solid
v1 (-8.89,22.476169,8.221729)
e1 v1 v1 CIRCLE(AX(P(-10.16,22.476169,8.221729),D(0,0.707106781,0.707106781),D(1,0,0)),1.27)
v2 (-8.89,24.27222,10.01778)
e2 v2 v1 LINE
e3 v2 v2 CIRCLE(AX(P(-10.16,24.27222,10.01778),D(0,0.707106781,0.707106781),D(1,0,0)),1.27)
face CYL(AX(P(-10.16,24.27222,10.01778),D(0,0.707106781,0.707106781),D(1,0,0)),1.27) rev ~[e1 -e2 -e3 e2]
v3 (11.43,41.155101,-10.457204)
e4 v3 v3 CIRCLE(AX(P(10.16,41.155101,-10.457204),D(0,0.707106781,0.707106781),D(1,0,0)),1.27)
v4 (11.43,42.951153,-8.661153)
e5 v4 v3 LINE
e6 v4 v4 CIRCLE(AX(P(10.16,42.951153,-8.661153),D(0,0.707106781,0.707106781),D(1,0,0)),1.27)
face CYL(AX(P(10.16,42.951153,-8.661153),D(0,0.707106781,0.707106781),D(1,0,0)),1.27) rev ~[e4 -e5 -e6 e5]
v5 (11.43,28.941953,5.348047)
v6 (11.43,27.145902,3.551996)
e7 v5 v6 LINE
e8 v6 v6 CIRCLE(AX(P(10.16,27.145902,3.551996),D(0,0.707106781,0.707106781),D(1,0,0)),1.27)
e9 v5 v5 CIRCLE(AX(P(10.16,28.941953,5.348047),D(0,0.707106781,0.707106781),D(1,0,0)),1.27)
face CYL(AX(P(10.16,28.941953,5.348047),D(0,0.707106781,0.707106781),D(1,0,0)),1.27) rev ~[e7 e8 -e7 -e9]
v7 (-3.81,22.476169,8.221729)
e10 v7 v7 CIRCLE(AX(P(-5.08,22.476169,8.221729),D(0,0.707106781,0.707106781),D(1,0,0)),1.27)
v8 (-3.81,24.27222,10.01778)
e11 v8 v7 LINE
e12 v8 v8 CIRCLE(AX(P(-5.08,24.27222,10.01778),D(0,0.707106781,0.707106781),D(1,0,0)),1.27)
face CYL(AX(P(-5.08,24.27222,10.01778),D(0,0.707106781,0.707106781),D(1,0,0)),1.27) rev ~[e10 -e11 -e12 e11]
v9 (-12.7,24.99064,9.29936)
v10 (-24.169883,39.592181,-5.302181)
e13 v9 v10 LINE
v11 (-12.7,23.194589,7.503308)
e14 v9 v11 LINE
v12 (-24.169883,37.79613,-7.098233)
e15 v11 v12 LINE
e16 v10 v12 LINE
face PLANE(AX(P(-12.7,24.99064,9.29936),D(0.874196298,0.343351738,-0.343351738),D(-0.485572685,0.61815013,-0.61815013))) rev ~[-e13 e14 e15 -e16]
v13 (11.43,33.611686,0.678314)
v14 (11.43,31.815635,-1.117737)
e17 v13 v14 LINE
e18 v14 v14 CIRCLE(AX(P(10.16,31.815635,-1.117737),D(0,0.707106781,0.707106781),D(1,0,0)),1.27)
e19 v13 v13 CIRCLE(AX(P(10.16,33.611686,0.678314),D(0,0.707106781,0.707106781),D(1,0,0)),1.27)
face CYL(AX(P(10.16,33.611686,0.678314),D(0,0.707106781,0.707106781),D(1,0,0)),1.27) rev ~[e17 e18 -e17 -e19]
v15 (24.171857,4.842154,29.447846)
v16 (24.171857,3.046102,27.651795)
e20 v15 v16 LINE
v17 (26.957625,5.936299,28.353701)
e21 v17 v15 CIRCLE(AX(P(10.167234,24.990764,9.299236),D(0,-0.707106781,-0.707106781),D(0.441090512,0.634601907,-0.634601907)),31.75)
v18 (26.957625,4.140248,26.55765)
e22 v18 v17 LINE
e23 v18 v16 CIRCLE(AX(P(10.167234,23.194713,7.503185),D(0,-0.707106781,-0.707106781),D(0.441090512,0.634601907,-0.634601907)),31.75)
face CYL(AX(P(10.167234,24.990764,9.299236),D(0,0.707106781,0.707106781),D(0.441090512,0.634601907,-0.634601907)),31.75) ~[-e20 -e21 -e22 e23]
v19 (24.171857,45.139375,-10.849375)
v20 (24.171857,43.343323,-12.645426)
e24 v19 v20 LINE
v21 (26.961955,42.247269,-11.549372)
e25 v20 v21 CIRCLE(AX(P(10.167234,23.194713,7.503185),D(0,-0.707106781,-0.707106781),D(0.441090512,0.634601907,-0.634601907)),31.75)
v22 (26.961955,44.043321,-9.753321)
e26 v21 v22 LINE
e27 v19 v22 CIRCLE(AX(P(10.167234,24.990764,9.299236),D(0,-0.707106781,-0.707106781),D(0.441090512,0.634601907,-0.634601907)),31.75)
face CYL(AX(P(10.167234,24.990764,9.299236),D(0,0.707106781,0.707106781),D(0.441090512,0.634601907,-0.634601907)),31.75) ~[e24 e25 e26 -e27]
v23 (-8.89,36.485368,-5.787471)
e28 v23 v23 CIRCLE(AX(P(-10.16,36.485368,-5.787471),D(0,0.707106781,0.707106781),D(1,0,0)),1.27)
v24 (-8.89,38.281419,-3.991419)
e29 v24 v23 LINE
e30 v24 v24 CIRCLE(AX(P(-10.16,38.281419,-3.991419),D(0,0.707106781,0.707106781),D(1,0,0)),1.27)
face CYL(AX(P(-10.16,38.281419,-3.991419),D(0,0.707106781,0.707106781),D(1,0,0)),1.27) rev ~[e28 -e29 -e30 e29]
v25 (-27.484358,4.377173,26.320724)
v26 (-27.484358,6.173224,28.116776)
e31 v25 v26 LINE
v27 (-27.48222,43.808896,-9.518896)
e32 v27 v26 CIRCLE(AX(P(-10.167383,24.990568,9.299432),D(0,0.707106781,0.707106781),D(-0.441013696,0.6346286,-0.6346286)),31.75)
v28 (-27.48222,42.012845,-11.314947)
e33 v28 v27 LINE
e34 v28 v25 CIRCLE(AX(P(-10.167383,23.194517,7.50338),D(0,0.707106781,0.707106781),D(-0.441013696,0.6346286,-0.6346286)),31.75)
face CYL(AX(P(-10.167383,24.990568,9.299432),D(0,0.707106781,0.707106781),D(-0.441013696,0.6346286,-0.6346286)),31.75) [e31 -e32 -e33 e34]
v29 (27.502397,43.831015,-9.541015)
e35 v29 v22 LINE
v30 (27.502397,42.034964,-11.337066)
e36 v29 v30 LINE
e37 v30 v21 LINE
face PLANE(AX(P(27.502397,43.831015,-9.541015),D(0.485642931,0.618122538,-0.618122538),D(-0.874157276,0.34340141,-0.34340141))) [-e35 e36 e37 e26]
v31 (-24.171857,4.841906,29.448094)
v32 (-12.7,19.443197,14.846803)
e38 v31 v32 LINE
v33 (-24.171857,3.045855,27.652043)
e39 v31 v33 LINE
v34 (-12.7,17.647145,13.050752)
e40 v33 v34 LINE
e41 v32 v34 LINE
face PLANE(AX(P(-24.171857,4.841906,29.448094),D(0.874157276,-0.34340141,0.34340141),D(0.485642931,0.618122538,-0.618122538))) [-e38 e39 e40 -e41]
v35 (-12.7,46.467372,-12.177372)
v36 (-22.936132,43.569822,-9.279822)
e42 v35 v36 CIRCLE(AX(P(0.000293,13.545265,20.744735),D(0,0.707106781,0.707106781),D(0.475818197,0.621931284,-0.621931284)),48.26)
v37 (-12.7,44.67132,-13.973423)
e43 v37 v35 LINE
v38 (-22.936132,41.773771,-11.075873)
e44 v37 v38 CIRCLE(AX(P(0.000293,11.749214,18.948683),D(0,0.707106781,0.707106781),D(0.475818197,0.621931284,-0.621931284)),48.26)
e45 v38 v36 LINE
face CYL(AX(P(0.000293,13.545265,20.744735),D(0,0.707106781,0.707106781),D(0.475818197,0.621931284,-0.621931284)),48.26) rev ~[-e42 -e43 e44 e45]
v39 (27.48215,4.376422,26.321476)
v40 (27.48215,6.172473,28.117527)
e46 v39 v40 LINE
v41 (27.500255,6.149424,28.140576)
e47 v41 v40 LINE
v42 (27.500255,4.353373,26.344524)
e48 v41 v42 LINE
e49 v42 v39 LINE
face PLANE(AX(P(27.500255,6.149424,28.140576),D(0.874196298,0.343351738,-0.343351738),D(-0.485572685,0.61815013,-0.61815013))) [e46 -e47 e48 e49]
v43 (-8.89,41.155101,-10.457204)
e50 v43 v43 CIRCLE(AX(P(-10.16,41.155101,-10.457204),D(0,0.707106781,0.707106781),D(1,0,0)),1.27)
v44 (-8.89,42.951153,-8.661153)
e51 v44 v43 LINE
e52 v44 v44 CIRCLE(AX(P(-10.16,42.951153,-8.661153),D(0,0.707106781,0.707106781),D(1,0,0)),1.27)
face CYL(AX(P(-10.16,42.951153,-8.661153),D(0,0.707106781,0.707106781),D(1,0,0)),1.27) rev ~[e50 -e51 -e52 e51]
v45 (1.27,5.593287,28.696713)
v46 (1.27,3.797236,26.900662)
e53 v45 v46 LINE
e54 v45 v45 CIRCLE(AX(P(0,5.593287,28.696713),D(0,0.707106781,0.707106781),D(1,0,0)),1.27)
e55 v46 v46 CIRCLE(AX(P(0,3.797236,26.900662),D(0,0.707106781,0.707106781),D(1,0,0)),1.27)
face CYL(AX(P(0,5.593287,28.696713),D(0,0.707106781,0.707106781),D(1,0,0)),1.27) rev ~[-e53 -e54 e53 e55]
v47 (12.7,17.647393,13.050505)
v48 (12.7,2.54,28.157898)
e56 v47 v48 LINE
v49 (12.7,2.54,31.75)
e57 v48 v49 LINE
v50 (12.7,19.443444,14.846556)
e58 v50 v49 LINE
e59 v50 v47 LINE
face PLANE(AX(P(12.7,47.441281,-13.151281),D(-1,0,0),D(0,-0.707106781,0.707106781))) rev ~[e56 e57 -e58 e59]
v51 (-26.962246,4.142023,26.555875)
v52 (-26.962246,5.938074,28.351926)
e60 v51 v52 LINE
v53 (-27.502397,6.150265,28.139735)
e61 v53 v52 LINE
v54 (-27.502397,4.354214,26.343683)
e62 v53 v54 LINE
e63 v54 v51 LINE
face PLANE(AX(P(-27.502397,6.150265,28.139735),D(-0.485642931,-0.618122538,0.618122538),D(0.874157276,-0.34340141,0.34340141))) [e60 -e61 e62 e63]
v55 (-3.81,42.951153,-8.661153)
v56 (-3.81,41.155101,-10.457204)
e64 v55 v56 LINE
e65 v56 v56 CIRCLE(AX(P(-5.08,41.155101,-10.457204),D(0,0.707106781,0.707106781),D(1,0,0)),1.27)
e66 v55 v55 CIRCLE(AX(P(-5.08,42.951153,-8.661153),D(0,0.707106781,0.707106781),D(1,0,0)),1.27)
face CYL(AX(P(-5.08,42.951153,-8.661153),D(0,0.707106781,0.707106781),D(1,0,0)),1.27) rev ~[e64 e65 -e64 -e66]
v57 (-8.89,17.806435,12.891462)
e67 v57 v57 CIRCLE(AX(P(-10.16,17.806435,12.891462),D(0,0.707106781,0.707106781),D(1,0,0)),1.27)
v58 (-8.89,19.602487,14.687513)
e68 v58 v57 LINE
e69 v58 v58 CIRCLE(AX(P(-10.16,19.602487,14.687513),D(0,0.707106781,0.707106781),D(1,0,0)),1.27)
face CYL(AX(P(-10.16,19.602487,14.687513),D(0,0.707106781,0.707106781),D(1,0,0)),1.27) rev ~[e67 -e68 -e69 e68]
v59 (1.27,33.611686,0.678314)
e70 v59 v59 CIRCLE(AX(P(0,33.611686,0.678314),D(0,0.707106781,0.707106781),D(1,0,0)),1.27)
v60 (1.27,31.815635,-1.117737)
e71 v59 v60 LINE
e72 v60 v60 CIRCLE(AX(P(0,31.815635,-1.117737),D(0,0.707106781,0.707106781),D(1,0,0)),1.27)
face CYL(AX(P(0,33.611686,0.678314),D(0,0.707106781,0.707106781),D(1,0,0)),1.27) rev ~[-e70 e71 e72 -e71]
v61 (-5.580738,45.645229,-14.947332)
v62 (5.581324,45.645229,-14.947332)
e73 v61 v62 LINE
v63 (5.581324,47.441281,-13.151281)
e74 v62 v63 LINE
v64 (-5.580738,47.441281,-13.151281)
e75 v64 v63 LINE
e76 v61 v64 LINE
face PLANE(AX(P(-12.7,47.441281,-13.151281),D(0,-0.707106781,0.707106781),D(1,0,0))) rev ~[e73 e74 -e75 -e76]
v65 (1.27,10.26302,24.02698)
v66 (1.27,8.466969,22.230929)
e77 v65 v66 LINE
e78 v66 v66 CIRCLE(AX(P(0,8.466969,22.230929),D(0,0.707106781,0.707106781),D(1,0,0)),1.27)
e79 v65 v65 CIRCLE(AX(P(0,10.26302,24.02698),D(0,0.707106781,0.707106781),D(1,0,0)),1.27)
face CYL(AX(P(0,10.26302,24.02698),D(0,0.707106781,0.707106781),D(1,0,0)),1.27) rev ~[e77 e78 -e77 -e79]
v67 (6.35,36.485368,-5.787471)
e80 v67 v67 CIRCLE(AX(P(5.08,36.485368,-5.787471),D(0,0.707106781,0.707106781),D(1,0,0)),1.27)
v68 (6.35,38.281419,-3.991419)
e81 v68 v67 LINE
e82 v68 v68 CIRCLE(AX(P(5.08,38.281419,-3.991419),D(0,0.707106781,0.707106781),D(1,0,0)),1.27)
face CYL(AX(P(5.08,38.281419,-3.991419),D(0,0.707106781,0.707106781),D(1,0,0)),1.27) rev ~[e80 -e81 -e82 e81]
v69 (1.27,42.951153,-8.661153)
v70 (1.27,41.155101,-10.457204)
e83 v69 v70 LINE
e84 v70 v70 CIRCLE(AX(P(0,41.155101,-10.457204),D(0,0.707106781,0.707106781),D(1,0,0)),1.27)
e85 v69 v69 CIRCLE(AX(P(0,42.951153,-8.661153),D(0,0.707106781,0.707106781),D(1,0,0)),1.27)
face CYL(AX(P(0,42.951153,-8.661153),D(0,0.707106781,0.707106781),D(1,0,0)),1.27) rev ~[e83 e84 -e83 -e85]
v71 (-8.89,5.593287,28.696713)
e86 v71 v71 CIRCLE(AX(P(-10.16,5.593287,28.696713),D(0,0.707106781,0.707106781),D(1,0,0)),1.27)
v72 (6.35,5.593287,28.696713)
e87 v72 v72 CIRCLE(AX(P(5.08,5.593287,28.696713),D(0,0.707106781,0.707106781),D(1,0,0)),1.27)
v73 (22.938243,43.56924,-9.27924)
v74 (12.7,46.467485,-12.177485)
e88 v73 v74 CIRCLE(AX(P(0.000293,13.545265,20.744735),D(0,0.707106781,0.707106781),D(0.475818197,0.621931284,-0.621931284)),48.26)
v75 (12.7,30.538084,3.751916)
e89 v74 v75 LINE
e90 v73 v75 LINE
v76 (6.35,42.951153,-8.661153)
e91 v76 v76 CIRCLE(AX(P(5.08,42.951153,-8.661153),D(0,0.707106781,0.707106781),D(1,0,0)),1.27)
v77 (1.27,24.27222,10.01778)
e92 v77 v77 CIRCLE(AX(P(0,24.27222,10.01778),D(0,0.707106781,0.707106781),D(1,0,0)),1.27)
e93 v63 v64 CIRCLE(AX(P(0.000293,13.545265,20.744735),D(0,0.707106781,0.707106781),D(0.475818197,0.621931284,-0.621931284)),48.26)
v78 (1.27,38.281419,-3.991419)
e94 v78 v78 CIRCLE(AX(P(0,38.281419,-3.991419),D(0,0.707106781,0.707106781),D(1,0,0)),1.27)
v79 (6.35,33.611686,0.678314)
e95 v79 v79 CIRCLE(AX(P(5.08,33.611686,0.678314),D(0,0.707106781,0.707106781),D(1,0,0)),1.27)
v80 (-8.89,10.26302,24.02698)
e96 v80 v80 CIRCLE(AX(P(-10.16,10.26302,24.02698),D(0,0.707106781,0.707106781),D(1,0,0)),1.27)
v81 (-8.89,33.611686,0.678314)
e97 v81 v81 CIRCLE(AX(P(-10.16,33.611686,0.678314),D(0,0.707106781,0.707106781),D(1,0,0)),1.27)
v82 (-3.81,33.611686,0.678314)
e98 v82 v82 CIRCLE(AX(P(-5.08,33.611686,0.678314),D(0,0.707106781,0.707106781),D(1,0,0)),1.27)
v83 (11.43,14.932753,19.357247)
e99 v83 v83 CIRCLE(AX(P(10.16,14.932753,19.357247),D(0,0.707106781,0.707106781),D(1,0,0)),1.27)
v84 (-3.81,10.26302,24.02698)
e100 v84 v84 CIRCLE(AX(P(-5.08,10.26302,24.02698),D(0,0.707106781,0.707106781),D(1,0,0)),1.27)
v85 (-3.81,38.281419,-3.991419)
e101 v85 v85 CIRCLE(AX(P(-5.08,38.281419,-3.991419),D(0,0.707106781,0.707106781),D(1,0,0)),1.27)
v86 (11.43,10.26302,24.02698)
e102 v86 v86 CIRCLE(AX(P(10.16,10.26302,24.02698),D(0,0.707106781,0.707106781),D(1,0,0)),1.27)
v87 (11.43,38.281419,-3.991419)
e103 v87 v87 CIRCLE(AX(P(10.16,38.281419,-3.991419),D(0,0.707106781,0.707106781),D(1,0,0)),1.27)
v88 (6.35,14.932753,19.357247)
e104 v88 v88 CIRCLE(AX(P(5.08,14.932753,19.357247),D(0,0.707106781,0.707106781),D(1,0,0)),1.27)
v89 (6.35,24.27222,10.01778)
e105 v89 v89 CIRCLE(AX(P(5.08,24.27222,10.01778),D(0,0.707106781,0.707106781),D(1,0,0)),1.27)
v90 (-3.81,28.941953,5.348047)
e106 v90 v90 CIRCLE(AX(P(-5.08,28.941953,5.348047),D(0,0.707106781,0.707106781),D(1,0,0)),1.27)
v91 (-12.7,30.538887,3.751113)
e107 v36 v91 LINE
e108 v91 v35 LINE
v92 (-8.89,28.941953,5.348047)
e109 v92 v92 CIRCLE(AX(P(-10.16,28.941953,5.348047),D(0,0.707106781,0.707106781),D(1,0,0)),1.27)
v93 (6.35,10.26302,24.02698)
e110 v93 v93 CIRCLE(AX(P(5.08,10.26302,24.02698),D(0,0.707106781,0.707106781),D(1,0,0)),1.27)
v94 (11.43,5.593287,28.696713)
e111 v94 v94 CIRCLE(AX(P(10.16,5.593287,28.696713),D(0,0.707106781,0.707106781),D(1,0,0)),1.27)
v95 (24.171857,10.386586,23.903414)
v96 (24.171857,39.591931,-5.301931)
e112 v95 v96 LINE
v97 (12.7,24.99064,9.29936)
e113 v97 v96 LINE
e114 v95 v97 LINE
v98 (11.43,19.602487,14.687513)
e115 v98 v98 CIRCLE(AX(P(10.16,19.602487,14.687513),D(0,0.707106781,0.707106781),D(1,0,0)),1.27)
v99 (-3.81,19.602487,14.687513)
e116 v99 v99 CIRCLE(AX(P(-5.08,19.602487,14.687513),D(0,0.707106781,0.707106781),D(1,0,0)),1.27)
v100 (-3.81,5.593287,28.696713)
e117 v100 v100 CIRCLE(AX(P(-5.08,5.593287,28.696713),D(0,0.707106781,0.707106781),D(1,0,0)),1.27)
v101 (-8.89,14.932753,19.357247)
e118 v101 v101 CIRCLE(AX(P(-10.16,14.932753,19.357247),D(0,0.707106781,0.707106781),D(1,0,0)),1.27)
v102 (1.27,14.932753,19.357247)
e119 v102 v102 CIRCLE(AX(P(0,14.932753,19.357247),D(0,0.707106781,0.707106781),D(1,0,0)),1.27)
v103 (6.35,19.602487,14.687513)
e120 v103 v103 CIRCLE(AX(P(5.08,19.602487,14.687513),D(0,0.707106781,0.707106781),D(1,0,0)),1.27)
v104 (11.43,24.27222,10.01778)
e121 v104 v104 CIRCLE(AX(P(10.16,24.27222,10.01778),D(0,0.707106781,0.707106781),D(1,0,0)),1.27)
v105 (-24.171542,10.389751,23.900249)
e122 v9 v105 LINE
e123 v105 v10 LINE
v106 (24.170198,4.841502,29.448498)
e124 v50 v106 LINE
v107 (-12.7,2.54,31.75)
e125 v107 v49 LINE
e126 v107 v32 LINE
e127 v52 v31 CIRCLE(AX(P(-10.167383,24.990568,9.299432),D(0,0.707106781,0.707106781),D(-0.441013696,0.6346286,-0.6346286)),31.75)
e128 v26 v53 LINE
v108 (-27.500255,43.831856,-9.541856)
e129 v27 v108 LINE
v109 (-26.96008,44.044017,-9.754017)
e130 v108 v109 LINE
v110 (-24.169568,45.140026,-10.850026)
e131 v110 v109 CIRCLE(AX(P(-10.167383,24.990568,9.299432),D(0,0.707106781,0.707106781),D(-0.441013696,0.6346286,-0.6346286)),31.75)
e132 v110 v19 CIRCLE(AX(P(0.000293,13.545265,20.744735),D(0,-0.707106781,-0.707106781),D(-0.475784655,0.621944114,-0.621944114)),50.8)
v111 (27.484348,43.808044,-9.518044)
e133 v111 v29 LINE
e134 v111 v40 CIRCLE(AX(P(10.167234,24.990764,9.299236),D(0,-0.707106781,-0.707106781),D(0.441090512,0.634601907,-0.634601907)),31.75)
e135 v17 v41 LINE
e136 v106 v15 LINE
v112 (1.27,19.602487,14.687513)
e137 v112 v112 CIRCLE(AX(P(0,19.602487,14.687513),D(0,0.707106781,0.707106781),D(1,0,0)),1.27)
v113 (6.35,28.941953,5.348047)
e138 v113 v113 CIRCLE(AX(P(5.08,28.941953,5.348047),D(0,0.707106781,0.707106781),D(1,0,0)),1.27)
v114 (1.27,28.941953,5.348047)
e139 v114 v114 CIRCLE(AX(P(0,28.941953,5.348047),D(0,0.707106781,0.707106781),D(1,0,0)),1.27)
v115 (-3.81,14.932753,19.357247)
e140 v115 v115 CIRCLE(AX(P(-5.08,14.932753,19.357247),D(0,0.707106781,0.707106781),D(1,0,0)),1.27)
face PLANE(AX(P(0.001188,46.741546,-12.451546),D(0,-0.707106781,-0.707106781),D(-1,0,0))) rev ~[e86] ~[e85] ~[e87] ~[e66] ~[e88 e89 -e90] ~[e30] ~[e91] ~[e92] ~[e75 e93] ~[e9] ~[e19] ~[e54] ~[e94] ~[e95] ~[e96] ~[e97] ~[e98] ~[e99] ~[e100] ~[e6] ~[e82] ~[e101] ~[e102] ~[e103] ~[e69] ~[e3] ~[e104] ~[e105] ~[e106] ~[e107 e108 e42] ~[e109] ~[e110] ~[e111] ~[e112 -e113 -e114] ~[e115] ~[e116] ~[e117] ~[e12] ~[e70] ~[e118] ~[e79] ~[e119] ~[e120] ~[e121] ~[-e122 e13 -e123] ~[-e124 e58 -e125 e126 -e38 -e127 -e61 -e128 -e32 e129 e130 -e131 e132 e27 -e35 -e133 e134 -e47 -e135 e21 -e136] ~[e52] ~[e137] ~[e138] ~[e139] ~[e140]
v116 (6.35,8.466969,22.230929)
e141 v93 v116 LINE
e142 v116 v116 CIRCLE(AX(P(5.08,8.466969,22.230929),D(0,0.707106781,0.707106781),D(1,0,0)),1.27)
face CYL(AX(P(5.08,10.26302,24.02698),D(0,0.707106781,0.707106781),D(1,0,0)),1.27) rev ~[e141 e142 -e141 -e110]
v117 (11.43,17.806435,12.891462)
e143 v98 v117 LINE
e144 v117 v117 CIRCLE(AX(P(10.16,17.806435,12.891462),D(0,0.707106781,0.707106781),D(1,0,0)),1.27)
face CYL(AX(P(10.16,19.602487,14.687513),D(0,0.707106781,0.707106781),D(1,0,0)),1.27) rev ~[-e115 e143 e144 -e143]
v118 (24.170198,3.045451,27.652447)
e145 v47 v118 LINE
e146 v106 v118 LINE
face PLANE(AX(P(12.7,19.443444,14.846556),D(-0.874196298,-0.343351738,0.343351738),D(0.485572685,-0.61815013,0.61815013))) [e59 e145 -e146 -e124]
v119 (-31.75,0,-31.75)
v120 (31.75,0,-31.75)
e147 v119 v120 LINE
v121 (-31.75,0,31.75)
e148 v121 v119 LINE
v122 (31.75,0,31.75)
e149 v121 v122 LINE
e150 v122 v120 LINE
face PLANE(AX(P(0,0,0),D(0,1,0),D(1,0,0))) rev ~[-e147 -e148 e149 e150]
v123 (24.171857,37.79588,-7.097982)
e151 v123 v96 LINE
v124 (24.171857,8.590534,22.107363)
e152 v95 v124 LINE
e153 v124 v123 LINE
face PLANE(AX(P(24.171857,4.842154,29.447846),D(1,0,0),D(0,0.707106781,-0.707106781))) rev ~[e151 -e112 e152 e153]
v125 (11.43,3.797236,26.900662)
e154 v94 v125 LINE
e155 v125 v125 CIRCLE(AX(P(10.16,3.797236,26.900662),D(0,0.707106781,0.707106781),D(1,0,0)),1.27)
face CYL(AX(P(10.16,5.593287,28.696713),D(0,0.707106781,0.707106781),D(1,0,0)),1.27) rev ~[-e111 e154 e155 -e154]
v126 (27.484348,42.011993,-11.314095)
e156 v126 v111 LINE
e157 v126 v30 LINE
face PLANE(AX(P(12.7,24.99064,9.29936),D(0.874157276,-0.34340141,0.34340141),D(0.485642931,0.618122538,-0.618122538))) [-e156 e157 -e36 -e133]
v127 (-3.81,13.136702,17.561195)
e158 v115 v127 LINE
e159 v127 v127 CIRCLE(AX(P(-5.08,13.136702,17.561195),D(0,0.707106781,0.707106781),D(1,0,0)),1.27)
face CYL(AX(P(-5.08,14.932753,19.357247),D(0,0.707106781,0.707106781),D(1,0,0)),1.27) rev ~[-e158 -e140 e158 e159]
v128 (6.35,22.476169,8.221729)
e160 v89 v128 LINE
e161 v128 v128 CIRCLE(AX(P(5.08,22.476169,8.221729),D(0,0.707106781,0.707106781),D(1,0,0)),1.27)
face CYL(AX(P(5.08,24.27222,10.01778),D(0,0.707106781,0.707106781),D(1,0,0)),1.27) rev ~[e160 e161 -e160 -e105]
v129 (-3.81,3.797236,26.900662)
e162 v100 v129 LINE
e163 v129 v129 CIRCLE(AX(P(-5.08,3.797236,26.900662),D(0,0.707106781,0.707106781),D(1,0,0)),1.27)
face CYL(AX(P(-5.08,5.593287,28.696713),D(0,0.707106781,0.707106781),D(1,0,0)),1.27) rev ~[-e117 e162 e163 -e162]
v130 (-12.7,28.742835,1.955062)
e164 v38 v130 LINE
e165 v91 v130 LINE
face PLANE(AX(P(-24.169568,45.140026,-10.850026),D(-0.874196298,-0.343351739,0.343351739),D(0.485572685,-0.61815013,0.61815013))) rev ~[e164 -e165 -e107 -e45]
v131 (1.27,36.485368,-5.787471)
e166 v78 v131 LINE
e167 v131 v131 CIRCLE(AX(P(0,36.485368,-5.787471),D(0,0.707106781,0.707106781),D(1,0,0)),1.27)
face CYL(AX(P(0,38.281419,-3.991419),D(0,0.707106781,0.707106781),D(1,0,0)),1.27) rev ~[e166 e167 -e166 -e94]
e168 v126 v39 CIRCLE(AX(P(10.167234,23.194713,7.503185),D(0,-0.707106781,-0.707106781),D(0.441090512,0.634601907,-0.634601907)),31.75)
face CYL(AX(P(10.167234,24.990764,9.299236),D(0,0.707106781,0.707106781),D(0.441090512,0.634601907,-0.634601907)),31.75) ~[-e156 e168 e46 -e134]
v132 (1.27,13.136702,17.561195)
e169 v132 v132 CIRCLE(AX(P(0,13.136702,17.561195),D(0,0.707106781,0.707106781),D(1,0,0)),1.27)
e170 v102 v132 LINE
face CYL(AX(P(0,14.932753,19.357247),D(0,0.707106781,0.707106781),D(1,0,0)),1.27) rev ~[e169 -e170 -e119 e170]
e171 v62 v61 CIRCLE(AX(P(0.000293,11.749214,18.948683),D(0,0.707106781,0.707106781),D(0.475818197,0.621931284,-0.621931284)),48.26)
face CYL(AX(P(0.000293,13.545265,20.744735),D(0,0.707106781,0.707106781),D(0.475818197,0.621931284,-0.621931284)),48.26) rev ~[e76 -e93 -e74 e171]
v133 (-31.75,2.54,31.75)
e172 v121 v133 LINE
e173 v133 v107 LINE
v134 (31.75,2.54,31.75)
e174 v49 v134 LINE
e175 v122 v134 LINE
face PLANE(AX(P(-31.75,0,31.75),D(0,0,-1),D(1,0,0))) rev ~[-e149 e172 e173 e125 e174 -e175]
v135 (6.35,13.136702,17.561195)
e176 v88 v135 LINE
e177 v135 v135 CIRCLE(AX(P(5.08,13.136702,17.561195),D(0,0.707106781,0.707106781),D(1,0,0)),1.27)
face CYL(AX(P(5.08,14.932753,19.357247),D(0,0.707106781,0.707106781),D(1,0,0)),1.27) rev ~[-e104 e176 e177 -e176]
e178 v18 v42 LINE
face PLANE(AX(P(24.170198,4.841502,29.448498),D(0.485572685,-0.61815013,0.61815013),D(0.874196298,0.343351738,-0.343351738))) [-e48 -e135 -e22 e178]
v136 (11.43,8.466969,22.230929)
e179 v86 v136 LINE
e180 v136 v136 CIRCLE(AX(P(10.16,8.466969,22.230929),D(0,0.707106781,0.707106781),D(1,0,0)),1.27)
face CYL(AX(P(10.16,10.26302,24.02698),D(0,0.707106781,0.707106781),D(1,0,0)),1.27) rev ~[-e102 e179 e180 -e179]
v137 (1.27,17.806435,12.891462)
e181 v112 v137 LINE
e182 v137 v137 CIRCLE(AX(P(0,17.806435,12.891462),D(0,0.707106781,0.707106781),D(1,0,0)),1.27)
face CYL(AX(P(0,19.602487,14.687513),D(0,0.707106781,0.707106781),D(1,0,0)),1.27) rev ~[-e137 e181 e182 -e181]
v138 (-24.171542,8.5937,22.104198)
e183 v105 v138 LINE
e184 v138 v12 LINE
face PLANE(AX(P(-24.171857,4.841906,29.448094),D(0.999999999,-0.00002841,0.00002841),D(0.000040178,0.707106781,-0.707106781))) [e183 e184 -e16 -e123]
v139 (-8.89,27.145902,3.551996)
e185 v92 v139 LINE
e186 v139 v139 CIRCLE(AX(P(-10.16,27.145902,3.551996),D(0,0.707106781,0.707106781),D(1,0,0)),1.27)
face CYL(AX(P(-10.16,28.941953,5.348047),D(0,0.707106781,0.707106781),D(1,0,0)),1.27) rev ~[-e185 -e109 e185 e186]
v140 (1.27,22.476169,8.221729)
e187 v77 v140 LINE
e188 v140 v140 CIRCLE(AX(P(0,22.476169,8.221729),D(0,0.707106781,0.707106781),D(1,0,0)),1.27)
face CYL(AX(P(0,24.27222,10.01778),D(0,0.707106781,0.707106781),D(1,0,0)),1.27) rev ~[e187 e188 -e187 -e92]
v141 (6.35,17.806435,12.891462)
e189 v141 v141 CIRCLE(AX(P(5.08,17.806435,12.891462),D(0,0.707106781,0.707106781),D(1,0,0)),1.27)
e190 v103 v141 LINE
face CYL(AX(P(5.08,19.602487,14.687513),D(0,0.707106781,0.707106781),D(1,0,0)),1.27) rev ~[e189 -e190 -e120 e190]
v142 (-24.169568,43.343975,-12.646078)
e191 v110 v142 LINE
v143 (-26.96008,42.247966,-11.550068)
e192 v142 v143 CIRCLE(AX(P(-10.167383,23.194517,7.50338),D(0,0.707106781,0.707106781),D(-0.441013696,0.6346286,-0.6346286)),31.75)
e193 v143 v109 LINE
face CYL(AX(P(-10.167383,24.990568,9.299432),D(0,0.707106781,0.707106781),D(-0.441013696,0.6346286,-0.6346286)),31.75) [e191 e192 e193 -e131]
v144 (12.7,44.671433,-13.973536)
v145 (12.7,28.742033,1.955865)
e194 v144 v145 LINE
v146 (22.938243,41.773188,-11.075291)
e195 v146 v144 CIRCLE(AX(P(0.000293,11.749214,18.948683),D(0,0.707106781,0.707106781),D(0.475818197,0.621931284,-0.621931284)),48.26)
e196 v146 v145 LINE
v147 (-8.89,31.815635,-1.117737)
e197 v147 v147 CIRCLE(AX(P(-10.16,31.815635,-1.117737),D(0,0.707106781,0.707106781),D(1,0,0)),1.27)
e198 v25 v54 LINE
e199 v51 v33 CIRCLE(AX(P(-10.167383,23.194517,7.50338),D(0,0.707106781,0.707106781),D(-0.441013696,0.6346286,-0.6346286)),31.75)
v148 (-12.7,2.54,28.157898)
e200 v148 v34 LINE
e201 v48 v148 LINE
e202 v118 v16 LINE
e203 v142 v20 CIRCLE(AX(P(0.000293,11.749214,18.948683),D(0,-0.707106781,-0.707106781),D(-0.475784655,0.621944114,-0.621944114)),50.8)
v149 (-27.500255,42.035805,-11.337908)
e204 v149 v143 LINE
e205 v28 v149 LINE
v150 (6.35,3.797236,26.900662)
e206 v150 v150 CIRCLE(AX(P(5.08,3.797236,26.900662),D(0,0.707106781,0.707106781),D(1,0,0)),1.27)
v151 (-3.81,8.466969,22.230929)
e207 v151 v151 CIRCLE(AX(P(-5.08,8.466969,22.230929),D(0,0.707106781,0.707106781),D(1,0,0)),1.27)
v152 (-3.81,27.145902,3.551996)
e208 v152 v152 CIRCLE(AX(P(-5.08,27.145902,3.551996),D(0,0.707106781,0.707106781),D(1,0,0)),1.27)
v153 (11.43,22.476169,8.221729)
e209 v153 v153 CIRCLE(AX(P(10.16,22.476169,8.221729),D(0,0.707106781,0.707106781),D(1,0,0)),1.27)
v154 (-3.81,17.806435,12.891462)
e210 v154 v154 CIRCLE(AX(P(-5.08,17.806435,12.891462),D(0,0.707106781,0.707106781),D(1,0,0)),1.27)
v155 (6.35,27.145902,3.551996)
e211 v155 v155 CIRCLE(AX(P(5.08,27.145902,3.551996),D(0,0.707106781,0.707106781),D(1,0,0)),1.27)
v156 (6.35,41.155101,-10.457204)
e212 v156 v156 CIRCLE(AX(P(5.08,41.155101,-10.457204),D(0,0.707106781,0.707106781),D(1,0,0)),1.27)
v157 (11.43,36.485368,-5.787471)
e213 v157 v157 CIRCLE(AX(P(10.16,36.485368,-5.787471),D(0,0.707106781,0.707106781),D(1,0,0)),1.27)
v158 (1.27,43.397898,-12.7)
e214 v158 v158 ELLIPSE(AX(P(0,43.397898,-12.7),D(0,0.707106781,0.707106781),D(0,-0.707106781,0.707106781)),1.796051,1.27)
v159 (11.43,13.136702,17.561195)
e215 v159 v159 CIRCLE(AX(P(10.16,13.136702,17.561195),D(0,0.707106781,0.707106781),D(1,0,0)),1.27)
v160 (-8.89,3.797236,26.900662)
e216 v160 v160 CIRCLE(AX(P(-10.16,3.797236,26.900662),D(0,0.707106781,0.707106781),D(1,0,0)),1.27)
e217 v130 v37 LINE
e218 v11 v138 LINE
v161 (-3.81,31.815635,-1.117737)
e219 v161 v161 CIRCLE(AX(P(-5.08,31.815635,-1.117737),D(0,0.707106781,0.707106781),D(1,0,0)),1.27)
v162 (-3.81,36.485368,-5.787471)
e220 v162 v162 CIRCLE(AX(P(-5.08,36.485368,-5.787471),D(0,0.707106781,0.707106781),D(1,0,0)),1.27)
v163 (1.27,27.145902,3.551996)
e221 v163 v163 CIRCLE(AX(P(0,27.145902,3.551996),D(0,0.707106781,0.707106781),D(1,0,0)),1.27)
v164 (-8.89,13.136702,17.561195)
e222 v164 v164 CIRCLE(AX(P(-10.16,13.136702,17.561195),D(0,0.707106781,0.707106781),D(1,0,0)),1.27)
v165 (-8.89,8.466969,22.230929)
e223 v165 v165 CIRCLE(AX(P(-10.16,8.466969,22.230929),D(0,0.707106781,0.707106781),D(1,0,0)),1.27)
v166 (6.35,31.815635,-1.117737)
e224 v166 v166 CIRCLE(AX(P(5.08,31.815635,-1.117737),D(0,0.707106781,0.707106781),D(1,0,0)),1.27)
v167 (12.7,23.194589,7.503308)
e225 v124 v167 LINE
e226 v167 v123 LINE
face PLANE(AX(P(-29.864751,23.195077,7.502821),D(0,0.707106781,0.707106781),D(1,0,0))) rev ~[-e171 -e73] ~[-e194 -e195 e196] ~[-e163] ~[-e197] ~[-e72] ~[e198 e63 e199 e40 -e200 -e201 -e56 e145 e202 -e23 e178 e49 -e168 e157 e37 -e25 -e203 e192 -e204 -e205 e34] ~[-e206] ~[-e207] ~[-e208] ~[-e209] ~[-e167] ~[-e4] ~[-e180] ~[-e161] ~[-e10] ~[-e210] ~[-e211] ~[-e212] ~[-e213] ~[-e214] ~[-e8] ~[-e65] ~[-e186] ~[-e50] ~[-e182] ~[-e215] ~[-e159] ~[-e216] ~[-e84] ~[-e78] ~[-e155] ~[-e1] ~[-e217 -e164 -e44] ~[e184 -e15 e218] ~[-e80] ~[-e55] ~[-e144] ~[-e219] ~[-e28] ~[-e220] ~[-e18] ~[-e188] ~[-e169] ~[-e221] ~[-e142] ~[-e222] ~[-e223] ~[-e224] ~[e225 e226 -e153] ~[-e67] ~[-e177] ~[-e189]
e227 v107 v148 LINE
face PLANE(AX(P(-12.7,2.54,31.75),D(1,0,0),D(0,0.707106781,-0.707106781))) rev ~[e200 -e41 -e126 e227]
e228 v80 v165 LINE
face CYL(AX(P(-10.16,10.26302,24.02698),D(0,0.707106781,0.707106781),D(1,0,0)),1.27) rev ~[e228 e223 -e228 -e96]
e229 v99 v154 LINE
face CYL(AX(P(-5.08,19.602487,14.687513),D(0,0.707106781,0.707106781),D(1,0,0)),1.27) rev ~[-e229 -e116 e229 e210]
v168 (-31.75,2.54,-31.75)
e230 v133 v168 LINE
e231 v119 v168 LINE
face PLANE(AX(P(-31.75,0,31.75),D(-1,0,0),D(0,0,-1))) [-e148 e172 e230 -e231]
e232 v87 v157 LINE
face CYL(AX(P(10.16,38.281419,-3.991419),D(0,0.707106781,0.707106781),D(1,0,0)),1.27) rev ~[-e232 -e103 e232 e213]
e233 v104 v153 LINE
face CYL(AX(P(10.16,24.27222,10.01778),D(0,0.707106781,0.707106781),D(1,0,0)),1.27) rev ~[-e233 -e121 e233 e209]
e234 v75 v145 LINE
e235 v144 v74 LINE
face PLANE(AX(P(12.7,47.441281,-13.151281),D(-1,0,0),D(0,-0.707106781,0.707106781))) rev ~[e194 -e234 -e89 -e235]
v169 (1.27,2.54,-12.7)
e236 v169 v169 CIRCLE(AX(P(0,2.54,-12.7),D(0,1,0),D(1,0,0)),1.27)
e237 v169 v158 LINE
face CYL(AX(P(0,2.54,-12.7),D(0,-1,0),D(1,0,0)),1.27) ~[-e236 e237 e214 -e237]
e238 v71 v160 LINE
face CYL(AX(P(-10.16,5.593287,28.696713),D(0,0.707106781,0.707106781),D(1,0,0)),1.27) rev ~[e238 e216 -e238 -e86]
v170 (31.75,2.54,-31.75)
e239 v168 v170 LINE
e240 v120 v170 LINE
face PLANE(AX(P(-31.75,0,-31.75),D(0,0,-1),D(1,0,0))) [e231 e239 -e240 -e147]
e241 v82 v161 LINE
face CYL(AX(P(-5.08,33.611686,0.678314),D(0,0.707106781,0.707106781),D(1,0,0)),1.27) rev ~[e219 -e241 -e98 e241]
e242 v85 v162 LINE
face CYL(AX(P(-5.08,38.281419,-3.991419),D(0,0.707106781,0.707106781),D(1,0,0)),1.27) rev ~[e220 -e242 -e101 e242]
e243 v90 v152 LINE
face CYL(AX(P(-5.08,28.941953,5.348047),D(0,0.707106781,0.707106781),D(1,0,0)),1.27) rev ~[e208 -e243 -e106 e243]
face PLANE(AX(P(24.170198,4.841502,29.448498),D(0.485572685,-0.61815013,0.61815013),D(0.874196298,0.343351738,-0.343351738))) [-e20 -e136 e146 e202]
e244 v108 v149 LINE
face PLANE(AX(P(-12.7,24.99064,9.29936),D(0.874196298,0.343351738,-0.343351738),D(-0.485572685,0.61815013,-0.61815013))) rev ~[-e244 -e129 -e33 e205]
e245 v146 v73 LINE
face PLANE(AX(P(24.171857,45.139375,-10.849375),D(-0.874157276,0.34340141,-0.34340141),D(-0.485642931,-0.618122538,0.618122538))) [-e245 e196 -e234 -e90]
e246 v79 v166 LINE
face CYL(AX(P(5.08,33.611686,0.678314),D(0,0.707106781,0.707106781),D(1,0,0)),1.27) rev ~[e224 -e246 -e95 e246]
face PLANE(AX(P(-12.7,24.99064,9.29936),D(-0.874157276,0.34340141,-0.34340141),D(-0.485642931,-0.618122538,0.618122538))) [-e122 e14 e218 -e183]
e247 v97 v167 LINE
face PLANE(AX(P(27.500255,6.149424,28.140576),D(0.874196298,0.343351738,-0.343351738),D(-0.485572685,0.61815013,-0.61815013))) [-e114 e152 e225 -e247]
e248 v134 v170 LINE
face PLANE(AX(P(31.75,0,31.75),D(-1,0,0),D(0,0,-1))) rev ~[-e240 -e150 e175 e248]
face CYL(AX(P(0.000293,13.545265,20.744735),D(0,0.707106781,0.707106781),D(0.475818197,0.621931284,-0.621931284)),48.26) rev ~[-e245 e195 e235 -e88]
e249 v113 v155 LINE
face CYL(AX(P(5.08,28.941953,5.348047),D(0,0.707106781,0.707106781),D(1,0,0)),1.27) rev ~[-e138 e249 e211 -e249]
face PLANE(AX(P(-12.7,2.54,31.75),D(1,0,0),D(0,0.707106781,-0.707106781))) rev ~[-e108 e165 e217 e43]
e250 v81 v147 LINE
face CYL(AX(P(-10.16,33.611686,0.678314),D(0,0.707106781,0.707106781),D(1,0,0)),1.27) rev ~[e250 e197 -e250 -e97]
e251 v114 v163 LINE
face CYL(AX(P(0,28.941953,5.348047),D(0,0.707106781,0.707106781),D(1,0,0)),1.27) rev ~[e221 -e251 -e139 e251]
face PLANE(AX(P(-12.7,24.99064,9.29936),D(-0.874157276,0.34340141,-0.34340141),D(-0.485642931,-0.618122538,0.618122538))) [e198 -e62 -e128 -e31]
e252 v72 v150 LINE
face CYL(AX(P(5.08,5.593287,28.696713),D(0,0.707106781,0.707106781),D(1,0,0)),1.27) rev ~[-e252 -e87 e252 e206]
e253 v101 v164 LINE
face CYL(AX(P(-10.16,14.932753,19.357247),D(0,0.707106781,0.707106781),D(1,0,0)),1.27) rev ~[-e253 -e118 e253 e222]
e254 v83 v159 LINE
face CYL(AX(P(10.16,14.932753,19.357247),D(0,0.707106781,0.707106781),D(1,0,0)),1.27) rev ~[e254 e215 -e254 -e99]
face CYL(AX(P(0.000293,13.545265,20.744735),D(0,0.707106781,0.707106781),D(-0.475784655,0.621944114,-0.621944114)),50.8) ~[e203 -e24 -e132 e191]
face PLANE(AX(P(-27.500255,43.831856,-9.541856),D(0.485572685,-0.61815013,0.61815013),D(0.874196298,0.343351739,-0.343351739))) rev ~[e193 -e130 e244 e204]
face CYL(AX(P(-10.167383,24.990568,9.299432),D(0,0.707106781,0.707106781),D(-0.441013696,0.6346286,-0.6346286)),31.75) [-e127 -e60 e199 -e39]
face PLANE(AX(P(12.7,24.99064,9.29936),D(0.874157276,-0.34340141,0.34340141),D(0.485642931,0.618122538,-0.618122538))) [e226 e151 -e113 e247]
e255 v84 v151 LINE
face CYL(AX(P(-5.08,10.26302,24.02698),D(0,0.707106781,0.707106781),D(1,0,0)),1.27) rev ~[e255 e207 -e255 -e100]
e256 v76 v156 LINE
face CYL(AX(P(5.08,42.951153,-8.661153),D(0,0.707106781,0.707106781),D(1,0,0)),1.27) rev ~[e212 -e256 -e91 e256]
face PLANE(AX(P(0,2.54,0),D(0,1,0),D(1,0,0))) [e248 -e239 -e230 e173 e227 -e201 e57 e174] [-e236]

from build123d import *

# Parameters (mm, degrees)
SKETCH2_W            = 63.5
SKETCH2_H            = 63.5
BOSS_EXTRUDE1_DEPTH  = 2.54
BOSS_EXTRUDE2_DEPTH  = 2.54
SKETCH4_R            = 1.27
CUT_EXTRUDE1_DEPTH   = 2.54
BOSS_EXTRUDE3_DEPTH  = 2.54
BOSS_EXTRUDE4_DEPTH  = 2.54
EXTRUDE_THIN1_DEPTH  = 2.54
BOSS_EXTRUDE10_DEPTH = 2.54
SKETCH8_R            = 1.27
BOSS_EXTRUDE11_DEPTH = 42.418


with BuildPart() as part:
    # Sketch2 → Boss-Extrude1 (new body)
    with BuildSketch(Plane(origin=(0, 0, 0), x_dir=(1, 0, 0), z_dir=(0, 1, 0))):
        Rectangle(SKETCH2_W, SKETCH2_H)
    extrude(amount=BOSS_EXTRUDE1_DEPTH)

    # Sketch3 → Boss-Extrude2 (add)
    with BuildSketch(Plane(origin=(0, 17.145, 17.145), x_dir=(1, 0, 0), z_dir=(0, 0.7071067811865464, 0.7071067811865488))):
        Polygon((0, -20.654589078), (-12.7, -20.654589078), (-12.7, 42.845410922), (12.7, 42.845410922), (12.7, -20.654589078), align=None)
    extrude(amount=-BOSS_EXTRUDE2_DEPTH)

    # Sketch4 → Cut-Extrude1 (cut)
    with BuildSketch(Plane(origin=(0, 17.145, 17.145), x_dir=(1, 0, 0), z_dir=(0, 0.7071067811865465, 0.7071067811865487))):
        with Locations((0, 36.495410922)):
            Circle(SKETCH4_R)
        with Locations((-5.08, 36.495410922)):
            Circle(SKETCH4_R)
        with Locations((-10.16, 36.495410922)):
            Circle(SKETCH4_R)
        with Locations((5.08, 36.495410922)):
            Circle(SKETCH4_R)
        with Locations((10.16, 36.495410922)):
            Circle(SKETCH4_R)
        with Locations((-5.08, 29.891410922)):
            Circle(SKETCH4_R)
        with Locations((-10.16, 29.891410922)):
            Circle(SKETCH4_R)
        with Locations((0, 29.891410922)):
            Circle(SKETCH4_R)
        with Locations((5.08, 29.891410922)):
            Circle(SKETCH4_R)
        with Locations((-5.08, 23.287410922)):
            Circle(SKETCH4_R)
        with Locations((-10.16, 23.287410922)):
            Circle(SKETCH4_R)
        with Locations((0, 23.287410922)):
            Circle(SKETCH4_R)
        with Locations((5.08, 23.287410922)):
            Circle(SKETCH4_R)
        with Locations((-5.08, 16.683410922)):
            Circle(SKETCH4_R)
        with Locations((-10.16, 16.683410922)):
            Circle(SKETCH4_R)
        with Locations((0, 16.683410922)):
            Circle(SKETCH4_R)
        with Locations((5.08, 16.683410922)):
            Circle(SKETCH4_R)
        with Locations((-5.08, 10.079410922)):
            Circle(SKETCH4_R)
        with Locations((-10.16, 10.079410922)):
            Circle(SKETCH4_R)
        with Locations((0, 10.079410922)):
            Circle(SKETCH4_R)
        with Locations((5.08, 10.079410922)):
            Circle(SKETCH4_R)
        with Locations((-5.08, 3.475410922)):
            Circle(SKETCH4_R)
        with Locations((-10.16, 3.475410922)):
            Circle(SKETCH4_R)
        with Locations((0, 3.475410922)):
            Circle(SKETCH4_R)
        with Locations((5.08, 3.475410922)):
            Circle(SKETCH4_R)
        with Locations((-5.08, -3.128589078)):
            Circle(SKETCH4_R)
        with Locations((-10.16, -3.128589078)):
            Circle(SKETCH4_R)
        with Locations((0, -3.128589078)):
            Circle(SKETCH4_R)
        with Locations((5.08, -3.128589078)):
            Circle(SKETCH4_R)
        with Locations((-5.08, -9.732589078)):
            Circle(SKETCH4_R)
        with Locations((-10.16, -9.732589078)):
            Circle(SKETCH4_R)
        with Locations((0, -9.732589078)):
            Circle(SKETCH4_R)
        with Locations((5.08, -9.732589078)):
            Circle(SKETCH4_R)
        with Locations((-5.08, -16.336589078)):
            Circle(SKETCH4_R)
        with Locations((-10.16, -16.336589078)):
            Circle(SKETCH4_R)
        with Locations((0, -16.336589078)):
            Circle(SKETCH4_R)
        with Locations((5.08, -16.336589078)):
            Circle(SKETCH4_R)
        with Locations((10.16, 29.891410922)):
            Circle(SKETCH4_R)
        with Locations((10.16, 23.287410922)):
            Circle(SKETCH4_R)
        with Locations((10.16, 16.683410922)):
            Circle(SKETCH4_R)
        with Locations((10.16, 10.079410922)):
            Circle(SKETCH4_R)
        with Locations((10.16, 3.475410922)):
            Circle(SKETCH4_R)
        with Locations((10.16, -3.128589078)):
            Circle(SKETCH4_R)
        with Locations((10.16, -9.732589078)):
            Circle(SKETCH4_R)
        with Locations((10.16, -16.336589078)):
            Circle(SKETCH4_R)
    extrude(amount=-CUT_EXTRUDE1_DEPTH, mode=Mode.SUBTRACT)

    # Sketch5 → Boss-Extrude3 (add)
    with BuildSketch(Plane(origin=(0, 17.145, 17.145), x_dir=(1, 0, 0), z_dir=(0, 0.7071067811865465, 0.7071067811865487))):
        Polygon((12.7, 18.940681089), (12.7, 11.095410922), (27.502396542, 37.739724698), (24.17185732, 39.590024266), align=None)
        Polygon((27.500255446, -15.55009224), (12.7, 11.095410922), (12.7, 3.250490946), (24.17019797, -17.399774004), align=None)
    extrude(amount=-BOSS_EXTRUDE3_DEPTH)

    # Sketch6 → Boss-Extrude4 (add)
    with BuildSketch(Plane(origin=(0, 17.145, 17.145), x_dir=(1, 0, 0), z_dir=(0, 0.7071067811865465, 0.7071067811865487))):
        Polygon((-27.500255446, 37.740914083), (-12.7, 11.095410922), (-12.69936958, 18.940681064), (-24.169567551, 39.590946014), align=None)
        Polygon((-12.7, 3.250140754), (-12.7, 11.095410922), (-27.502396542, -15.548902855), (-24.17185732, -17.399202422), align=None)
    extrude(amount=-BOSS_EXTRUDE4_DEPTH)

    # Sketch7 → Extrude-Thin1 (add)
    with BuildSketch(Plane(origin=(0, 17.145, 17.145), x_dir=(1, 0, 0), z_dir=(0, 0.7071067811865465, 0.7071067811865487))):
        with BuildLine():
            ThreePointArc((-24.169567551, 39.590946014), (0.001261553, 45.709206507), (24.17185732, 39.590024266))
            Line((24.17185732, 39.590024266), (22.963279101, 37.355983378))
            ThreePointArc((22.963279101, 37.355983378), (0.001213122, 43.169206508), (-22.961074527, 37.356859039))
            Line((-22.961074527, 37.356859039), (-24.169567551, 39.590946014))
        make_face()
    extrude(amount=-EXTRUDE_THIN1_DEPTH)

    # Sketch7<6> → Boss-Extrude10 (add)
    with BuildSketch(Plane(origin=(0, 17.145, 17.145), x_dir=(1, 0, 0), z_dir=(0, 0.7071067811865465, 0.7071067811865487))):
        with BuildLine():
            ThreePointArc((-24.169567551, 39.590946014), (-41.917382675, 11.096584828), (-24.17185732, -17.399202422))
            Line((-24.17185732, -17.399202422), (-24.169567551, 39.590946014))
        make_face()
        with BuildLine():
            ThreePointArc((24.17185732, -17.398852317), (41.917233568, 11.095585974), (24.17185732, 39.590024266))
            Line((24.17185732, 39.590024266), (24.17185732, -17.398852317))
        make_face()
    extrude(amount=-BOSS_EXTRUDE10_DEPTH)

    # Sketch8 → Boss-Extrude11 (add)
    with BuildSketch(Plane(origin=(0, 2.54, 0), x_dir=(1, 0, 0), z_dir=(0, 1, 0))):
        with Locations((0, 12.7)):
            Circle(SKETCH8_R)
    extrude(amount=BOSS_EXTRUDE11_DEPTH)


solid = part.part
